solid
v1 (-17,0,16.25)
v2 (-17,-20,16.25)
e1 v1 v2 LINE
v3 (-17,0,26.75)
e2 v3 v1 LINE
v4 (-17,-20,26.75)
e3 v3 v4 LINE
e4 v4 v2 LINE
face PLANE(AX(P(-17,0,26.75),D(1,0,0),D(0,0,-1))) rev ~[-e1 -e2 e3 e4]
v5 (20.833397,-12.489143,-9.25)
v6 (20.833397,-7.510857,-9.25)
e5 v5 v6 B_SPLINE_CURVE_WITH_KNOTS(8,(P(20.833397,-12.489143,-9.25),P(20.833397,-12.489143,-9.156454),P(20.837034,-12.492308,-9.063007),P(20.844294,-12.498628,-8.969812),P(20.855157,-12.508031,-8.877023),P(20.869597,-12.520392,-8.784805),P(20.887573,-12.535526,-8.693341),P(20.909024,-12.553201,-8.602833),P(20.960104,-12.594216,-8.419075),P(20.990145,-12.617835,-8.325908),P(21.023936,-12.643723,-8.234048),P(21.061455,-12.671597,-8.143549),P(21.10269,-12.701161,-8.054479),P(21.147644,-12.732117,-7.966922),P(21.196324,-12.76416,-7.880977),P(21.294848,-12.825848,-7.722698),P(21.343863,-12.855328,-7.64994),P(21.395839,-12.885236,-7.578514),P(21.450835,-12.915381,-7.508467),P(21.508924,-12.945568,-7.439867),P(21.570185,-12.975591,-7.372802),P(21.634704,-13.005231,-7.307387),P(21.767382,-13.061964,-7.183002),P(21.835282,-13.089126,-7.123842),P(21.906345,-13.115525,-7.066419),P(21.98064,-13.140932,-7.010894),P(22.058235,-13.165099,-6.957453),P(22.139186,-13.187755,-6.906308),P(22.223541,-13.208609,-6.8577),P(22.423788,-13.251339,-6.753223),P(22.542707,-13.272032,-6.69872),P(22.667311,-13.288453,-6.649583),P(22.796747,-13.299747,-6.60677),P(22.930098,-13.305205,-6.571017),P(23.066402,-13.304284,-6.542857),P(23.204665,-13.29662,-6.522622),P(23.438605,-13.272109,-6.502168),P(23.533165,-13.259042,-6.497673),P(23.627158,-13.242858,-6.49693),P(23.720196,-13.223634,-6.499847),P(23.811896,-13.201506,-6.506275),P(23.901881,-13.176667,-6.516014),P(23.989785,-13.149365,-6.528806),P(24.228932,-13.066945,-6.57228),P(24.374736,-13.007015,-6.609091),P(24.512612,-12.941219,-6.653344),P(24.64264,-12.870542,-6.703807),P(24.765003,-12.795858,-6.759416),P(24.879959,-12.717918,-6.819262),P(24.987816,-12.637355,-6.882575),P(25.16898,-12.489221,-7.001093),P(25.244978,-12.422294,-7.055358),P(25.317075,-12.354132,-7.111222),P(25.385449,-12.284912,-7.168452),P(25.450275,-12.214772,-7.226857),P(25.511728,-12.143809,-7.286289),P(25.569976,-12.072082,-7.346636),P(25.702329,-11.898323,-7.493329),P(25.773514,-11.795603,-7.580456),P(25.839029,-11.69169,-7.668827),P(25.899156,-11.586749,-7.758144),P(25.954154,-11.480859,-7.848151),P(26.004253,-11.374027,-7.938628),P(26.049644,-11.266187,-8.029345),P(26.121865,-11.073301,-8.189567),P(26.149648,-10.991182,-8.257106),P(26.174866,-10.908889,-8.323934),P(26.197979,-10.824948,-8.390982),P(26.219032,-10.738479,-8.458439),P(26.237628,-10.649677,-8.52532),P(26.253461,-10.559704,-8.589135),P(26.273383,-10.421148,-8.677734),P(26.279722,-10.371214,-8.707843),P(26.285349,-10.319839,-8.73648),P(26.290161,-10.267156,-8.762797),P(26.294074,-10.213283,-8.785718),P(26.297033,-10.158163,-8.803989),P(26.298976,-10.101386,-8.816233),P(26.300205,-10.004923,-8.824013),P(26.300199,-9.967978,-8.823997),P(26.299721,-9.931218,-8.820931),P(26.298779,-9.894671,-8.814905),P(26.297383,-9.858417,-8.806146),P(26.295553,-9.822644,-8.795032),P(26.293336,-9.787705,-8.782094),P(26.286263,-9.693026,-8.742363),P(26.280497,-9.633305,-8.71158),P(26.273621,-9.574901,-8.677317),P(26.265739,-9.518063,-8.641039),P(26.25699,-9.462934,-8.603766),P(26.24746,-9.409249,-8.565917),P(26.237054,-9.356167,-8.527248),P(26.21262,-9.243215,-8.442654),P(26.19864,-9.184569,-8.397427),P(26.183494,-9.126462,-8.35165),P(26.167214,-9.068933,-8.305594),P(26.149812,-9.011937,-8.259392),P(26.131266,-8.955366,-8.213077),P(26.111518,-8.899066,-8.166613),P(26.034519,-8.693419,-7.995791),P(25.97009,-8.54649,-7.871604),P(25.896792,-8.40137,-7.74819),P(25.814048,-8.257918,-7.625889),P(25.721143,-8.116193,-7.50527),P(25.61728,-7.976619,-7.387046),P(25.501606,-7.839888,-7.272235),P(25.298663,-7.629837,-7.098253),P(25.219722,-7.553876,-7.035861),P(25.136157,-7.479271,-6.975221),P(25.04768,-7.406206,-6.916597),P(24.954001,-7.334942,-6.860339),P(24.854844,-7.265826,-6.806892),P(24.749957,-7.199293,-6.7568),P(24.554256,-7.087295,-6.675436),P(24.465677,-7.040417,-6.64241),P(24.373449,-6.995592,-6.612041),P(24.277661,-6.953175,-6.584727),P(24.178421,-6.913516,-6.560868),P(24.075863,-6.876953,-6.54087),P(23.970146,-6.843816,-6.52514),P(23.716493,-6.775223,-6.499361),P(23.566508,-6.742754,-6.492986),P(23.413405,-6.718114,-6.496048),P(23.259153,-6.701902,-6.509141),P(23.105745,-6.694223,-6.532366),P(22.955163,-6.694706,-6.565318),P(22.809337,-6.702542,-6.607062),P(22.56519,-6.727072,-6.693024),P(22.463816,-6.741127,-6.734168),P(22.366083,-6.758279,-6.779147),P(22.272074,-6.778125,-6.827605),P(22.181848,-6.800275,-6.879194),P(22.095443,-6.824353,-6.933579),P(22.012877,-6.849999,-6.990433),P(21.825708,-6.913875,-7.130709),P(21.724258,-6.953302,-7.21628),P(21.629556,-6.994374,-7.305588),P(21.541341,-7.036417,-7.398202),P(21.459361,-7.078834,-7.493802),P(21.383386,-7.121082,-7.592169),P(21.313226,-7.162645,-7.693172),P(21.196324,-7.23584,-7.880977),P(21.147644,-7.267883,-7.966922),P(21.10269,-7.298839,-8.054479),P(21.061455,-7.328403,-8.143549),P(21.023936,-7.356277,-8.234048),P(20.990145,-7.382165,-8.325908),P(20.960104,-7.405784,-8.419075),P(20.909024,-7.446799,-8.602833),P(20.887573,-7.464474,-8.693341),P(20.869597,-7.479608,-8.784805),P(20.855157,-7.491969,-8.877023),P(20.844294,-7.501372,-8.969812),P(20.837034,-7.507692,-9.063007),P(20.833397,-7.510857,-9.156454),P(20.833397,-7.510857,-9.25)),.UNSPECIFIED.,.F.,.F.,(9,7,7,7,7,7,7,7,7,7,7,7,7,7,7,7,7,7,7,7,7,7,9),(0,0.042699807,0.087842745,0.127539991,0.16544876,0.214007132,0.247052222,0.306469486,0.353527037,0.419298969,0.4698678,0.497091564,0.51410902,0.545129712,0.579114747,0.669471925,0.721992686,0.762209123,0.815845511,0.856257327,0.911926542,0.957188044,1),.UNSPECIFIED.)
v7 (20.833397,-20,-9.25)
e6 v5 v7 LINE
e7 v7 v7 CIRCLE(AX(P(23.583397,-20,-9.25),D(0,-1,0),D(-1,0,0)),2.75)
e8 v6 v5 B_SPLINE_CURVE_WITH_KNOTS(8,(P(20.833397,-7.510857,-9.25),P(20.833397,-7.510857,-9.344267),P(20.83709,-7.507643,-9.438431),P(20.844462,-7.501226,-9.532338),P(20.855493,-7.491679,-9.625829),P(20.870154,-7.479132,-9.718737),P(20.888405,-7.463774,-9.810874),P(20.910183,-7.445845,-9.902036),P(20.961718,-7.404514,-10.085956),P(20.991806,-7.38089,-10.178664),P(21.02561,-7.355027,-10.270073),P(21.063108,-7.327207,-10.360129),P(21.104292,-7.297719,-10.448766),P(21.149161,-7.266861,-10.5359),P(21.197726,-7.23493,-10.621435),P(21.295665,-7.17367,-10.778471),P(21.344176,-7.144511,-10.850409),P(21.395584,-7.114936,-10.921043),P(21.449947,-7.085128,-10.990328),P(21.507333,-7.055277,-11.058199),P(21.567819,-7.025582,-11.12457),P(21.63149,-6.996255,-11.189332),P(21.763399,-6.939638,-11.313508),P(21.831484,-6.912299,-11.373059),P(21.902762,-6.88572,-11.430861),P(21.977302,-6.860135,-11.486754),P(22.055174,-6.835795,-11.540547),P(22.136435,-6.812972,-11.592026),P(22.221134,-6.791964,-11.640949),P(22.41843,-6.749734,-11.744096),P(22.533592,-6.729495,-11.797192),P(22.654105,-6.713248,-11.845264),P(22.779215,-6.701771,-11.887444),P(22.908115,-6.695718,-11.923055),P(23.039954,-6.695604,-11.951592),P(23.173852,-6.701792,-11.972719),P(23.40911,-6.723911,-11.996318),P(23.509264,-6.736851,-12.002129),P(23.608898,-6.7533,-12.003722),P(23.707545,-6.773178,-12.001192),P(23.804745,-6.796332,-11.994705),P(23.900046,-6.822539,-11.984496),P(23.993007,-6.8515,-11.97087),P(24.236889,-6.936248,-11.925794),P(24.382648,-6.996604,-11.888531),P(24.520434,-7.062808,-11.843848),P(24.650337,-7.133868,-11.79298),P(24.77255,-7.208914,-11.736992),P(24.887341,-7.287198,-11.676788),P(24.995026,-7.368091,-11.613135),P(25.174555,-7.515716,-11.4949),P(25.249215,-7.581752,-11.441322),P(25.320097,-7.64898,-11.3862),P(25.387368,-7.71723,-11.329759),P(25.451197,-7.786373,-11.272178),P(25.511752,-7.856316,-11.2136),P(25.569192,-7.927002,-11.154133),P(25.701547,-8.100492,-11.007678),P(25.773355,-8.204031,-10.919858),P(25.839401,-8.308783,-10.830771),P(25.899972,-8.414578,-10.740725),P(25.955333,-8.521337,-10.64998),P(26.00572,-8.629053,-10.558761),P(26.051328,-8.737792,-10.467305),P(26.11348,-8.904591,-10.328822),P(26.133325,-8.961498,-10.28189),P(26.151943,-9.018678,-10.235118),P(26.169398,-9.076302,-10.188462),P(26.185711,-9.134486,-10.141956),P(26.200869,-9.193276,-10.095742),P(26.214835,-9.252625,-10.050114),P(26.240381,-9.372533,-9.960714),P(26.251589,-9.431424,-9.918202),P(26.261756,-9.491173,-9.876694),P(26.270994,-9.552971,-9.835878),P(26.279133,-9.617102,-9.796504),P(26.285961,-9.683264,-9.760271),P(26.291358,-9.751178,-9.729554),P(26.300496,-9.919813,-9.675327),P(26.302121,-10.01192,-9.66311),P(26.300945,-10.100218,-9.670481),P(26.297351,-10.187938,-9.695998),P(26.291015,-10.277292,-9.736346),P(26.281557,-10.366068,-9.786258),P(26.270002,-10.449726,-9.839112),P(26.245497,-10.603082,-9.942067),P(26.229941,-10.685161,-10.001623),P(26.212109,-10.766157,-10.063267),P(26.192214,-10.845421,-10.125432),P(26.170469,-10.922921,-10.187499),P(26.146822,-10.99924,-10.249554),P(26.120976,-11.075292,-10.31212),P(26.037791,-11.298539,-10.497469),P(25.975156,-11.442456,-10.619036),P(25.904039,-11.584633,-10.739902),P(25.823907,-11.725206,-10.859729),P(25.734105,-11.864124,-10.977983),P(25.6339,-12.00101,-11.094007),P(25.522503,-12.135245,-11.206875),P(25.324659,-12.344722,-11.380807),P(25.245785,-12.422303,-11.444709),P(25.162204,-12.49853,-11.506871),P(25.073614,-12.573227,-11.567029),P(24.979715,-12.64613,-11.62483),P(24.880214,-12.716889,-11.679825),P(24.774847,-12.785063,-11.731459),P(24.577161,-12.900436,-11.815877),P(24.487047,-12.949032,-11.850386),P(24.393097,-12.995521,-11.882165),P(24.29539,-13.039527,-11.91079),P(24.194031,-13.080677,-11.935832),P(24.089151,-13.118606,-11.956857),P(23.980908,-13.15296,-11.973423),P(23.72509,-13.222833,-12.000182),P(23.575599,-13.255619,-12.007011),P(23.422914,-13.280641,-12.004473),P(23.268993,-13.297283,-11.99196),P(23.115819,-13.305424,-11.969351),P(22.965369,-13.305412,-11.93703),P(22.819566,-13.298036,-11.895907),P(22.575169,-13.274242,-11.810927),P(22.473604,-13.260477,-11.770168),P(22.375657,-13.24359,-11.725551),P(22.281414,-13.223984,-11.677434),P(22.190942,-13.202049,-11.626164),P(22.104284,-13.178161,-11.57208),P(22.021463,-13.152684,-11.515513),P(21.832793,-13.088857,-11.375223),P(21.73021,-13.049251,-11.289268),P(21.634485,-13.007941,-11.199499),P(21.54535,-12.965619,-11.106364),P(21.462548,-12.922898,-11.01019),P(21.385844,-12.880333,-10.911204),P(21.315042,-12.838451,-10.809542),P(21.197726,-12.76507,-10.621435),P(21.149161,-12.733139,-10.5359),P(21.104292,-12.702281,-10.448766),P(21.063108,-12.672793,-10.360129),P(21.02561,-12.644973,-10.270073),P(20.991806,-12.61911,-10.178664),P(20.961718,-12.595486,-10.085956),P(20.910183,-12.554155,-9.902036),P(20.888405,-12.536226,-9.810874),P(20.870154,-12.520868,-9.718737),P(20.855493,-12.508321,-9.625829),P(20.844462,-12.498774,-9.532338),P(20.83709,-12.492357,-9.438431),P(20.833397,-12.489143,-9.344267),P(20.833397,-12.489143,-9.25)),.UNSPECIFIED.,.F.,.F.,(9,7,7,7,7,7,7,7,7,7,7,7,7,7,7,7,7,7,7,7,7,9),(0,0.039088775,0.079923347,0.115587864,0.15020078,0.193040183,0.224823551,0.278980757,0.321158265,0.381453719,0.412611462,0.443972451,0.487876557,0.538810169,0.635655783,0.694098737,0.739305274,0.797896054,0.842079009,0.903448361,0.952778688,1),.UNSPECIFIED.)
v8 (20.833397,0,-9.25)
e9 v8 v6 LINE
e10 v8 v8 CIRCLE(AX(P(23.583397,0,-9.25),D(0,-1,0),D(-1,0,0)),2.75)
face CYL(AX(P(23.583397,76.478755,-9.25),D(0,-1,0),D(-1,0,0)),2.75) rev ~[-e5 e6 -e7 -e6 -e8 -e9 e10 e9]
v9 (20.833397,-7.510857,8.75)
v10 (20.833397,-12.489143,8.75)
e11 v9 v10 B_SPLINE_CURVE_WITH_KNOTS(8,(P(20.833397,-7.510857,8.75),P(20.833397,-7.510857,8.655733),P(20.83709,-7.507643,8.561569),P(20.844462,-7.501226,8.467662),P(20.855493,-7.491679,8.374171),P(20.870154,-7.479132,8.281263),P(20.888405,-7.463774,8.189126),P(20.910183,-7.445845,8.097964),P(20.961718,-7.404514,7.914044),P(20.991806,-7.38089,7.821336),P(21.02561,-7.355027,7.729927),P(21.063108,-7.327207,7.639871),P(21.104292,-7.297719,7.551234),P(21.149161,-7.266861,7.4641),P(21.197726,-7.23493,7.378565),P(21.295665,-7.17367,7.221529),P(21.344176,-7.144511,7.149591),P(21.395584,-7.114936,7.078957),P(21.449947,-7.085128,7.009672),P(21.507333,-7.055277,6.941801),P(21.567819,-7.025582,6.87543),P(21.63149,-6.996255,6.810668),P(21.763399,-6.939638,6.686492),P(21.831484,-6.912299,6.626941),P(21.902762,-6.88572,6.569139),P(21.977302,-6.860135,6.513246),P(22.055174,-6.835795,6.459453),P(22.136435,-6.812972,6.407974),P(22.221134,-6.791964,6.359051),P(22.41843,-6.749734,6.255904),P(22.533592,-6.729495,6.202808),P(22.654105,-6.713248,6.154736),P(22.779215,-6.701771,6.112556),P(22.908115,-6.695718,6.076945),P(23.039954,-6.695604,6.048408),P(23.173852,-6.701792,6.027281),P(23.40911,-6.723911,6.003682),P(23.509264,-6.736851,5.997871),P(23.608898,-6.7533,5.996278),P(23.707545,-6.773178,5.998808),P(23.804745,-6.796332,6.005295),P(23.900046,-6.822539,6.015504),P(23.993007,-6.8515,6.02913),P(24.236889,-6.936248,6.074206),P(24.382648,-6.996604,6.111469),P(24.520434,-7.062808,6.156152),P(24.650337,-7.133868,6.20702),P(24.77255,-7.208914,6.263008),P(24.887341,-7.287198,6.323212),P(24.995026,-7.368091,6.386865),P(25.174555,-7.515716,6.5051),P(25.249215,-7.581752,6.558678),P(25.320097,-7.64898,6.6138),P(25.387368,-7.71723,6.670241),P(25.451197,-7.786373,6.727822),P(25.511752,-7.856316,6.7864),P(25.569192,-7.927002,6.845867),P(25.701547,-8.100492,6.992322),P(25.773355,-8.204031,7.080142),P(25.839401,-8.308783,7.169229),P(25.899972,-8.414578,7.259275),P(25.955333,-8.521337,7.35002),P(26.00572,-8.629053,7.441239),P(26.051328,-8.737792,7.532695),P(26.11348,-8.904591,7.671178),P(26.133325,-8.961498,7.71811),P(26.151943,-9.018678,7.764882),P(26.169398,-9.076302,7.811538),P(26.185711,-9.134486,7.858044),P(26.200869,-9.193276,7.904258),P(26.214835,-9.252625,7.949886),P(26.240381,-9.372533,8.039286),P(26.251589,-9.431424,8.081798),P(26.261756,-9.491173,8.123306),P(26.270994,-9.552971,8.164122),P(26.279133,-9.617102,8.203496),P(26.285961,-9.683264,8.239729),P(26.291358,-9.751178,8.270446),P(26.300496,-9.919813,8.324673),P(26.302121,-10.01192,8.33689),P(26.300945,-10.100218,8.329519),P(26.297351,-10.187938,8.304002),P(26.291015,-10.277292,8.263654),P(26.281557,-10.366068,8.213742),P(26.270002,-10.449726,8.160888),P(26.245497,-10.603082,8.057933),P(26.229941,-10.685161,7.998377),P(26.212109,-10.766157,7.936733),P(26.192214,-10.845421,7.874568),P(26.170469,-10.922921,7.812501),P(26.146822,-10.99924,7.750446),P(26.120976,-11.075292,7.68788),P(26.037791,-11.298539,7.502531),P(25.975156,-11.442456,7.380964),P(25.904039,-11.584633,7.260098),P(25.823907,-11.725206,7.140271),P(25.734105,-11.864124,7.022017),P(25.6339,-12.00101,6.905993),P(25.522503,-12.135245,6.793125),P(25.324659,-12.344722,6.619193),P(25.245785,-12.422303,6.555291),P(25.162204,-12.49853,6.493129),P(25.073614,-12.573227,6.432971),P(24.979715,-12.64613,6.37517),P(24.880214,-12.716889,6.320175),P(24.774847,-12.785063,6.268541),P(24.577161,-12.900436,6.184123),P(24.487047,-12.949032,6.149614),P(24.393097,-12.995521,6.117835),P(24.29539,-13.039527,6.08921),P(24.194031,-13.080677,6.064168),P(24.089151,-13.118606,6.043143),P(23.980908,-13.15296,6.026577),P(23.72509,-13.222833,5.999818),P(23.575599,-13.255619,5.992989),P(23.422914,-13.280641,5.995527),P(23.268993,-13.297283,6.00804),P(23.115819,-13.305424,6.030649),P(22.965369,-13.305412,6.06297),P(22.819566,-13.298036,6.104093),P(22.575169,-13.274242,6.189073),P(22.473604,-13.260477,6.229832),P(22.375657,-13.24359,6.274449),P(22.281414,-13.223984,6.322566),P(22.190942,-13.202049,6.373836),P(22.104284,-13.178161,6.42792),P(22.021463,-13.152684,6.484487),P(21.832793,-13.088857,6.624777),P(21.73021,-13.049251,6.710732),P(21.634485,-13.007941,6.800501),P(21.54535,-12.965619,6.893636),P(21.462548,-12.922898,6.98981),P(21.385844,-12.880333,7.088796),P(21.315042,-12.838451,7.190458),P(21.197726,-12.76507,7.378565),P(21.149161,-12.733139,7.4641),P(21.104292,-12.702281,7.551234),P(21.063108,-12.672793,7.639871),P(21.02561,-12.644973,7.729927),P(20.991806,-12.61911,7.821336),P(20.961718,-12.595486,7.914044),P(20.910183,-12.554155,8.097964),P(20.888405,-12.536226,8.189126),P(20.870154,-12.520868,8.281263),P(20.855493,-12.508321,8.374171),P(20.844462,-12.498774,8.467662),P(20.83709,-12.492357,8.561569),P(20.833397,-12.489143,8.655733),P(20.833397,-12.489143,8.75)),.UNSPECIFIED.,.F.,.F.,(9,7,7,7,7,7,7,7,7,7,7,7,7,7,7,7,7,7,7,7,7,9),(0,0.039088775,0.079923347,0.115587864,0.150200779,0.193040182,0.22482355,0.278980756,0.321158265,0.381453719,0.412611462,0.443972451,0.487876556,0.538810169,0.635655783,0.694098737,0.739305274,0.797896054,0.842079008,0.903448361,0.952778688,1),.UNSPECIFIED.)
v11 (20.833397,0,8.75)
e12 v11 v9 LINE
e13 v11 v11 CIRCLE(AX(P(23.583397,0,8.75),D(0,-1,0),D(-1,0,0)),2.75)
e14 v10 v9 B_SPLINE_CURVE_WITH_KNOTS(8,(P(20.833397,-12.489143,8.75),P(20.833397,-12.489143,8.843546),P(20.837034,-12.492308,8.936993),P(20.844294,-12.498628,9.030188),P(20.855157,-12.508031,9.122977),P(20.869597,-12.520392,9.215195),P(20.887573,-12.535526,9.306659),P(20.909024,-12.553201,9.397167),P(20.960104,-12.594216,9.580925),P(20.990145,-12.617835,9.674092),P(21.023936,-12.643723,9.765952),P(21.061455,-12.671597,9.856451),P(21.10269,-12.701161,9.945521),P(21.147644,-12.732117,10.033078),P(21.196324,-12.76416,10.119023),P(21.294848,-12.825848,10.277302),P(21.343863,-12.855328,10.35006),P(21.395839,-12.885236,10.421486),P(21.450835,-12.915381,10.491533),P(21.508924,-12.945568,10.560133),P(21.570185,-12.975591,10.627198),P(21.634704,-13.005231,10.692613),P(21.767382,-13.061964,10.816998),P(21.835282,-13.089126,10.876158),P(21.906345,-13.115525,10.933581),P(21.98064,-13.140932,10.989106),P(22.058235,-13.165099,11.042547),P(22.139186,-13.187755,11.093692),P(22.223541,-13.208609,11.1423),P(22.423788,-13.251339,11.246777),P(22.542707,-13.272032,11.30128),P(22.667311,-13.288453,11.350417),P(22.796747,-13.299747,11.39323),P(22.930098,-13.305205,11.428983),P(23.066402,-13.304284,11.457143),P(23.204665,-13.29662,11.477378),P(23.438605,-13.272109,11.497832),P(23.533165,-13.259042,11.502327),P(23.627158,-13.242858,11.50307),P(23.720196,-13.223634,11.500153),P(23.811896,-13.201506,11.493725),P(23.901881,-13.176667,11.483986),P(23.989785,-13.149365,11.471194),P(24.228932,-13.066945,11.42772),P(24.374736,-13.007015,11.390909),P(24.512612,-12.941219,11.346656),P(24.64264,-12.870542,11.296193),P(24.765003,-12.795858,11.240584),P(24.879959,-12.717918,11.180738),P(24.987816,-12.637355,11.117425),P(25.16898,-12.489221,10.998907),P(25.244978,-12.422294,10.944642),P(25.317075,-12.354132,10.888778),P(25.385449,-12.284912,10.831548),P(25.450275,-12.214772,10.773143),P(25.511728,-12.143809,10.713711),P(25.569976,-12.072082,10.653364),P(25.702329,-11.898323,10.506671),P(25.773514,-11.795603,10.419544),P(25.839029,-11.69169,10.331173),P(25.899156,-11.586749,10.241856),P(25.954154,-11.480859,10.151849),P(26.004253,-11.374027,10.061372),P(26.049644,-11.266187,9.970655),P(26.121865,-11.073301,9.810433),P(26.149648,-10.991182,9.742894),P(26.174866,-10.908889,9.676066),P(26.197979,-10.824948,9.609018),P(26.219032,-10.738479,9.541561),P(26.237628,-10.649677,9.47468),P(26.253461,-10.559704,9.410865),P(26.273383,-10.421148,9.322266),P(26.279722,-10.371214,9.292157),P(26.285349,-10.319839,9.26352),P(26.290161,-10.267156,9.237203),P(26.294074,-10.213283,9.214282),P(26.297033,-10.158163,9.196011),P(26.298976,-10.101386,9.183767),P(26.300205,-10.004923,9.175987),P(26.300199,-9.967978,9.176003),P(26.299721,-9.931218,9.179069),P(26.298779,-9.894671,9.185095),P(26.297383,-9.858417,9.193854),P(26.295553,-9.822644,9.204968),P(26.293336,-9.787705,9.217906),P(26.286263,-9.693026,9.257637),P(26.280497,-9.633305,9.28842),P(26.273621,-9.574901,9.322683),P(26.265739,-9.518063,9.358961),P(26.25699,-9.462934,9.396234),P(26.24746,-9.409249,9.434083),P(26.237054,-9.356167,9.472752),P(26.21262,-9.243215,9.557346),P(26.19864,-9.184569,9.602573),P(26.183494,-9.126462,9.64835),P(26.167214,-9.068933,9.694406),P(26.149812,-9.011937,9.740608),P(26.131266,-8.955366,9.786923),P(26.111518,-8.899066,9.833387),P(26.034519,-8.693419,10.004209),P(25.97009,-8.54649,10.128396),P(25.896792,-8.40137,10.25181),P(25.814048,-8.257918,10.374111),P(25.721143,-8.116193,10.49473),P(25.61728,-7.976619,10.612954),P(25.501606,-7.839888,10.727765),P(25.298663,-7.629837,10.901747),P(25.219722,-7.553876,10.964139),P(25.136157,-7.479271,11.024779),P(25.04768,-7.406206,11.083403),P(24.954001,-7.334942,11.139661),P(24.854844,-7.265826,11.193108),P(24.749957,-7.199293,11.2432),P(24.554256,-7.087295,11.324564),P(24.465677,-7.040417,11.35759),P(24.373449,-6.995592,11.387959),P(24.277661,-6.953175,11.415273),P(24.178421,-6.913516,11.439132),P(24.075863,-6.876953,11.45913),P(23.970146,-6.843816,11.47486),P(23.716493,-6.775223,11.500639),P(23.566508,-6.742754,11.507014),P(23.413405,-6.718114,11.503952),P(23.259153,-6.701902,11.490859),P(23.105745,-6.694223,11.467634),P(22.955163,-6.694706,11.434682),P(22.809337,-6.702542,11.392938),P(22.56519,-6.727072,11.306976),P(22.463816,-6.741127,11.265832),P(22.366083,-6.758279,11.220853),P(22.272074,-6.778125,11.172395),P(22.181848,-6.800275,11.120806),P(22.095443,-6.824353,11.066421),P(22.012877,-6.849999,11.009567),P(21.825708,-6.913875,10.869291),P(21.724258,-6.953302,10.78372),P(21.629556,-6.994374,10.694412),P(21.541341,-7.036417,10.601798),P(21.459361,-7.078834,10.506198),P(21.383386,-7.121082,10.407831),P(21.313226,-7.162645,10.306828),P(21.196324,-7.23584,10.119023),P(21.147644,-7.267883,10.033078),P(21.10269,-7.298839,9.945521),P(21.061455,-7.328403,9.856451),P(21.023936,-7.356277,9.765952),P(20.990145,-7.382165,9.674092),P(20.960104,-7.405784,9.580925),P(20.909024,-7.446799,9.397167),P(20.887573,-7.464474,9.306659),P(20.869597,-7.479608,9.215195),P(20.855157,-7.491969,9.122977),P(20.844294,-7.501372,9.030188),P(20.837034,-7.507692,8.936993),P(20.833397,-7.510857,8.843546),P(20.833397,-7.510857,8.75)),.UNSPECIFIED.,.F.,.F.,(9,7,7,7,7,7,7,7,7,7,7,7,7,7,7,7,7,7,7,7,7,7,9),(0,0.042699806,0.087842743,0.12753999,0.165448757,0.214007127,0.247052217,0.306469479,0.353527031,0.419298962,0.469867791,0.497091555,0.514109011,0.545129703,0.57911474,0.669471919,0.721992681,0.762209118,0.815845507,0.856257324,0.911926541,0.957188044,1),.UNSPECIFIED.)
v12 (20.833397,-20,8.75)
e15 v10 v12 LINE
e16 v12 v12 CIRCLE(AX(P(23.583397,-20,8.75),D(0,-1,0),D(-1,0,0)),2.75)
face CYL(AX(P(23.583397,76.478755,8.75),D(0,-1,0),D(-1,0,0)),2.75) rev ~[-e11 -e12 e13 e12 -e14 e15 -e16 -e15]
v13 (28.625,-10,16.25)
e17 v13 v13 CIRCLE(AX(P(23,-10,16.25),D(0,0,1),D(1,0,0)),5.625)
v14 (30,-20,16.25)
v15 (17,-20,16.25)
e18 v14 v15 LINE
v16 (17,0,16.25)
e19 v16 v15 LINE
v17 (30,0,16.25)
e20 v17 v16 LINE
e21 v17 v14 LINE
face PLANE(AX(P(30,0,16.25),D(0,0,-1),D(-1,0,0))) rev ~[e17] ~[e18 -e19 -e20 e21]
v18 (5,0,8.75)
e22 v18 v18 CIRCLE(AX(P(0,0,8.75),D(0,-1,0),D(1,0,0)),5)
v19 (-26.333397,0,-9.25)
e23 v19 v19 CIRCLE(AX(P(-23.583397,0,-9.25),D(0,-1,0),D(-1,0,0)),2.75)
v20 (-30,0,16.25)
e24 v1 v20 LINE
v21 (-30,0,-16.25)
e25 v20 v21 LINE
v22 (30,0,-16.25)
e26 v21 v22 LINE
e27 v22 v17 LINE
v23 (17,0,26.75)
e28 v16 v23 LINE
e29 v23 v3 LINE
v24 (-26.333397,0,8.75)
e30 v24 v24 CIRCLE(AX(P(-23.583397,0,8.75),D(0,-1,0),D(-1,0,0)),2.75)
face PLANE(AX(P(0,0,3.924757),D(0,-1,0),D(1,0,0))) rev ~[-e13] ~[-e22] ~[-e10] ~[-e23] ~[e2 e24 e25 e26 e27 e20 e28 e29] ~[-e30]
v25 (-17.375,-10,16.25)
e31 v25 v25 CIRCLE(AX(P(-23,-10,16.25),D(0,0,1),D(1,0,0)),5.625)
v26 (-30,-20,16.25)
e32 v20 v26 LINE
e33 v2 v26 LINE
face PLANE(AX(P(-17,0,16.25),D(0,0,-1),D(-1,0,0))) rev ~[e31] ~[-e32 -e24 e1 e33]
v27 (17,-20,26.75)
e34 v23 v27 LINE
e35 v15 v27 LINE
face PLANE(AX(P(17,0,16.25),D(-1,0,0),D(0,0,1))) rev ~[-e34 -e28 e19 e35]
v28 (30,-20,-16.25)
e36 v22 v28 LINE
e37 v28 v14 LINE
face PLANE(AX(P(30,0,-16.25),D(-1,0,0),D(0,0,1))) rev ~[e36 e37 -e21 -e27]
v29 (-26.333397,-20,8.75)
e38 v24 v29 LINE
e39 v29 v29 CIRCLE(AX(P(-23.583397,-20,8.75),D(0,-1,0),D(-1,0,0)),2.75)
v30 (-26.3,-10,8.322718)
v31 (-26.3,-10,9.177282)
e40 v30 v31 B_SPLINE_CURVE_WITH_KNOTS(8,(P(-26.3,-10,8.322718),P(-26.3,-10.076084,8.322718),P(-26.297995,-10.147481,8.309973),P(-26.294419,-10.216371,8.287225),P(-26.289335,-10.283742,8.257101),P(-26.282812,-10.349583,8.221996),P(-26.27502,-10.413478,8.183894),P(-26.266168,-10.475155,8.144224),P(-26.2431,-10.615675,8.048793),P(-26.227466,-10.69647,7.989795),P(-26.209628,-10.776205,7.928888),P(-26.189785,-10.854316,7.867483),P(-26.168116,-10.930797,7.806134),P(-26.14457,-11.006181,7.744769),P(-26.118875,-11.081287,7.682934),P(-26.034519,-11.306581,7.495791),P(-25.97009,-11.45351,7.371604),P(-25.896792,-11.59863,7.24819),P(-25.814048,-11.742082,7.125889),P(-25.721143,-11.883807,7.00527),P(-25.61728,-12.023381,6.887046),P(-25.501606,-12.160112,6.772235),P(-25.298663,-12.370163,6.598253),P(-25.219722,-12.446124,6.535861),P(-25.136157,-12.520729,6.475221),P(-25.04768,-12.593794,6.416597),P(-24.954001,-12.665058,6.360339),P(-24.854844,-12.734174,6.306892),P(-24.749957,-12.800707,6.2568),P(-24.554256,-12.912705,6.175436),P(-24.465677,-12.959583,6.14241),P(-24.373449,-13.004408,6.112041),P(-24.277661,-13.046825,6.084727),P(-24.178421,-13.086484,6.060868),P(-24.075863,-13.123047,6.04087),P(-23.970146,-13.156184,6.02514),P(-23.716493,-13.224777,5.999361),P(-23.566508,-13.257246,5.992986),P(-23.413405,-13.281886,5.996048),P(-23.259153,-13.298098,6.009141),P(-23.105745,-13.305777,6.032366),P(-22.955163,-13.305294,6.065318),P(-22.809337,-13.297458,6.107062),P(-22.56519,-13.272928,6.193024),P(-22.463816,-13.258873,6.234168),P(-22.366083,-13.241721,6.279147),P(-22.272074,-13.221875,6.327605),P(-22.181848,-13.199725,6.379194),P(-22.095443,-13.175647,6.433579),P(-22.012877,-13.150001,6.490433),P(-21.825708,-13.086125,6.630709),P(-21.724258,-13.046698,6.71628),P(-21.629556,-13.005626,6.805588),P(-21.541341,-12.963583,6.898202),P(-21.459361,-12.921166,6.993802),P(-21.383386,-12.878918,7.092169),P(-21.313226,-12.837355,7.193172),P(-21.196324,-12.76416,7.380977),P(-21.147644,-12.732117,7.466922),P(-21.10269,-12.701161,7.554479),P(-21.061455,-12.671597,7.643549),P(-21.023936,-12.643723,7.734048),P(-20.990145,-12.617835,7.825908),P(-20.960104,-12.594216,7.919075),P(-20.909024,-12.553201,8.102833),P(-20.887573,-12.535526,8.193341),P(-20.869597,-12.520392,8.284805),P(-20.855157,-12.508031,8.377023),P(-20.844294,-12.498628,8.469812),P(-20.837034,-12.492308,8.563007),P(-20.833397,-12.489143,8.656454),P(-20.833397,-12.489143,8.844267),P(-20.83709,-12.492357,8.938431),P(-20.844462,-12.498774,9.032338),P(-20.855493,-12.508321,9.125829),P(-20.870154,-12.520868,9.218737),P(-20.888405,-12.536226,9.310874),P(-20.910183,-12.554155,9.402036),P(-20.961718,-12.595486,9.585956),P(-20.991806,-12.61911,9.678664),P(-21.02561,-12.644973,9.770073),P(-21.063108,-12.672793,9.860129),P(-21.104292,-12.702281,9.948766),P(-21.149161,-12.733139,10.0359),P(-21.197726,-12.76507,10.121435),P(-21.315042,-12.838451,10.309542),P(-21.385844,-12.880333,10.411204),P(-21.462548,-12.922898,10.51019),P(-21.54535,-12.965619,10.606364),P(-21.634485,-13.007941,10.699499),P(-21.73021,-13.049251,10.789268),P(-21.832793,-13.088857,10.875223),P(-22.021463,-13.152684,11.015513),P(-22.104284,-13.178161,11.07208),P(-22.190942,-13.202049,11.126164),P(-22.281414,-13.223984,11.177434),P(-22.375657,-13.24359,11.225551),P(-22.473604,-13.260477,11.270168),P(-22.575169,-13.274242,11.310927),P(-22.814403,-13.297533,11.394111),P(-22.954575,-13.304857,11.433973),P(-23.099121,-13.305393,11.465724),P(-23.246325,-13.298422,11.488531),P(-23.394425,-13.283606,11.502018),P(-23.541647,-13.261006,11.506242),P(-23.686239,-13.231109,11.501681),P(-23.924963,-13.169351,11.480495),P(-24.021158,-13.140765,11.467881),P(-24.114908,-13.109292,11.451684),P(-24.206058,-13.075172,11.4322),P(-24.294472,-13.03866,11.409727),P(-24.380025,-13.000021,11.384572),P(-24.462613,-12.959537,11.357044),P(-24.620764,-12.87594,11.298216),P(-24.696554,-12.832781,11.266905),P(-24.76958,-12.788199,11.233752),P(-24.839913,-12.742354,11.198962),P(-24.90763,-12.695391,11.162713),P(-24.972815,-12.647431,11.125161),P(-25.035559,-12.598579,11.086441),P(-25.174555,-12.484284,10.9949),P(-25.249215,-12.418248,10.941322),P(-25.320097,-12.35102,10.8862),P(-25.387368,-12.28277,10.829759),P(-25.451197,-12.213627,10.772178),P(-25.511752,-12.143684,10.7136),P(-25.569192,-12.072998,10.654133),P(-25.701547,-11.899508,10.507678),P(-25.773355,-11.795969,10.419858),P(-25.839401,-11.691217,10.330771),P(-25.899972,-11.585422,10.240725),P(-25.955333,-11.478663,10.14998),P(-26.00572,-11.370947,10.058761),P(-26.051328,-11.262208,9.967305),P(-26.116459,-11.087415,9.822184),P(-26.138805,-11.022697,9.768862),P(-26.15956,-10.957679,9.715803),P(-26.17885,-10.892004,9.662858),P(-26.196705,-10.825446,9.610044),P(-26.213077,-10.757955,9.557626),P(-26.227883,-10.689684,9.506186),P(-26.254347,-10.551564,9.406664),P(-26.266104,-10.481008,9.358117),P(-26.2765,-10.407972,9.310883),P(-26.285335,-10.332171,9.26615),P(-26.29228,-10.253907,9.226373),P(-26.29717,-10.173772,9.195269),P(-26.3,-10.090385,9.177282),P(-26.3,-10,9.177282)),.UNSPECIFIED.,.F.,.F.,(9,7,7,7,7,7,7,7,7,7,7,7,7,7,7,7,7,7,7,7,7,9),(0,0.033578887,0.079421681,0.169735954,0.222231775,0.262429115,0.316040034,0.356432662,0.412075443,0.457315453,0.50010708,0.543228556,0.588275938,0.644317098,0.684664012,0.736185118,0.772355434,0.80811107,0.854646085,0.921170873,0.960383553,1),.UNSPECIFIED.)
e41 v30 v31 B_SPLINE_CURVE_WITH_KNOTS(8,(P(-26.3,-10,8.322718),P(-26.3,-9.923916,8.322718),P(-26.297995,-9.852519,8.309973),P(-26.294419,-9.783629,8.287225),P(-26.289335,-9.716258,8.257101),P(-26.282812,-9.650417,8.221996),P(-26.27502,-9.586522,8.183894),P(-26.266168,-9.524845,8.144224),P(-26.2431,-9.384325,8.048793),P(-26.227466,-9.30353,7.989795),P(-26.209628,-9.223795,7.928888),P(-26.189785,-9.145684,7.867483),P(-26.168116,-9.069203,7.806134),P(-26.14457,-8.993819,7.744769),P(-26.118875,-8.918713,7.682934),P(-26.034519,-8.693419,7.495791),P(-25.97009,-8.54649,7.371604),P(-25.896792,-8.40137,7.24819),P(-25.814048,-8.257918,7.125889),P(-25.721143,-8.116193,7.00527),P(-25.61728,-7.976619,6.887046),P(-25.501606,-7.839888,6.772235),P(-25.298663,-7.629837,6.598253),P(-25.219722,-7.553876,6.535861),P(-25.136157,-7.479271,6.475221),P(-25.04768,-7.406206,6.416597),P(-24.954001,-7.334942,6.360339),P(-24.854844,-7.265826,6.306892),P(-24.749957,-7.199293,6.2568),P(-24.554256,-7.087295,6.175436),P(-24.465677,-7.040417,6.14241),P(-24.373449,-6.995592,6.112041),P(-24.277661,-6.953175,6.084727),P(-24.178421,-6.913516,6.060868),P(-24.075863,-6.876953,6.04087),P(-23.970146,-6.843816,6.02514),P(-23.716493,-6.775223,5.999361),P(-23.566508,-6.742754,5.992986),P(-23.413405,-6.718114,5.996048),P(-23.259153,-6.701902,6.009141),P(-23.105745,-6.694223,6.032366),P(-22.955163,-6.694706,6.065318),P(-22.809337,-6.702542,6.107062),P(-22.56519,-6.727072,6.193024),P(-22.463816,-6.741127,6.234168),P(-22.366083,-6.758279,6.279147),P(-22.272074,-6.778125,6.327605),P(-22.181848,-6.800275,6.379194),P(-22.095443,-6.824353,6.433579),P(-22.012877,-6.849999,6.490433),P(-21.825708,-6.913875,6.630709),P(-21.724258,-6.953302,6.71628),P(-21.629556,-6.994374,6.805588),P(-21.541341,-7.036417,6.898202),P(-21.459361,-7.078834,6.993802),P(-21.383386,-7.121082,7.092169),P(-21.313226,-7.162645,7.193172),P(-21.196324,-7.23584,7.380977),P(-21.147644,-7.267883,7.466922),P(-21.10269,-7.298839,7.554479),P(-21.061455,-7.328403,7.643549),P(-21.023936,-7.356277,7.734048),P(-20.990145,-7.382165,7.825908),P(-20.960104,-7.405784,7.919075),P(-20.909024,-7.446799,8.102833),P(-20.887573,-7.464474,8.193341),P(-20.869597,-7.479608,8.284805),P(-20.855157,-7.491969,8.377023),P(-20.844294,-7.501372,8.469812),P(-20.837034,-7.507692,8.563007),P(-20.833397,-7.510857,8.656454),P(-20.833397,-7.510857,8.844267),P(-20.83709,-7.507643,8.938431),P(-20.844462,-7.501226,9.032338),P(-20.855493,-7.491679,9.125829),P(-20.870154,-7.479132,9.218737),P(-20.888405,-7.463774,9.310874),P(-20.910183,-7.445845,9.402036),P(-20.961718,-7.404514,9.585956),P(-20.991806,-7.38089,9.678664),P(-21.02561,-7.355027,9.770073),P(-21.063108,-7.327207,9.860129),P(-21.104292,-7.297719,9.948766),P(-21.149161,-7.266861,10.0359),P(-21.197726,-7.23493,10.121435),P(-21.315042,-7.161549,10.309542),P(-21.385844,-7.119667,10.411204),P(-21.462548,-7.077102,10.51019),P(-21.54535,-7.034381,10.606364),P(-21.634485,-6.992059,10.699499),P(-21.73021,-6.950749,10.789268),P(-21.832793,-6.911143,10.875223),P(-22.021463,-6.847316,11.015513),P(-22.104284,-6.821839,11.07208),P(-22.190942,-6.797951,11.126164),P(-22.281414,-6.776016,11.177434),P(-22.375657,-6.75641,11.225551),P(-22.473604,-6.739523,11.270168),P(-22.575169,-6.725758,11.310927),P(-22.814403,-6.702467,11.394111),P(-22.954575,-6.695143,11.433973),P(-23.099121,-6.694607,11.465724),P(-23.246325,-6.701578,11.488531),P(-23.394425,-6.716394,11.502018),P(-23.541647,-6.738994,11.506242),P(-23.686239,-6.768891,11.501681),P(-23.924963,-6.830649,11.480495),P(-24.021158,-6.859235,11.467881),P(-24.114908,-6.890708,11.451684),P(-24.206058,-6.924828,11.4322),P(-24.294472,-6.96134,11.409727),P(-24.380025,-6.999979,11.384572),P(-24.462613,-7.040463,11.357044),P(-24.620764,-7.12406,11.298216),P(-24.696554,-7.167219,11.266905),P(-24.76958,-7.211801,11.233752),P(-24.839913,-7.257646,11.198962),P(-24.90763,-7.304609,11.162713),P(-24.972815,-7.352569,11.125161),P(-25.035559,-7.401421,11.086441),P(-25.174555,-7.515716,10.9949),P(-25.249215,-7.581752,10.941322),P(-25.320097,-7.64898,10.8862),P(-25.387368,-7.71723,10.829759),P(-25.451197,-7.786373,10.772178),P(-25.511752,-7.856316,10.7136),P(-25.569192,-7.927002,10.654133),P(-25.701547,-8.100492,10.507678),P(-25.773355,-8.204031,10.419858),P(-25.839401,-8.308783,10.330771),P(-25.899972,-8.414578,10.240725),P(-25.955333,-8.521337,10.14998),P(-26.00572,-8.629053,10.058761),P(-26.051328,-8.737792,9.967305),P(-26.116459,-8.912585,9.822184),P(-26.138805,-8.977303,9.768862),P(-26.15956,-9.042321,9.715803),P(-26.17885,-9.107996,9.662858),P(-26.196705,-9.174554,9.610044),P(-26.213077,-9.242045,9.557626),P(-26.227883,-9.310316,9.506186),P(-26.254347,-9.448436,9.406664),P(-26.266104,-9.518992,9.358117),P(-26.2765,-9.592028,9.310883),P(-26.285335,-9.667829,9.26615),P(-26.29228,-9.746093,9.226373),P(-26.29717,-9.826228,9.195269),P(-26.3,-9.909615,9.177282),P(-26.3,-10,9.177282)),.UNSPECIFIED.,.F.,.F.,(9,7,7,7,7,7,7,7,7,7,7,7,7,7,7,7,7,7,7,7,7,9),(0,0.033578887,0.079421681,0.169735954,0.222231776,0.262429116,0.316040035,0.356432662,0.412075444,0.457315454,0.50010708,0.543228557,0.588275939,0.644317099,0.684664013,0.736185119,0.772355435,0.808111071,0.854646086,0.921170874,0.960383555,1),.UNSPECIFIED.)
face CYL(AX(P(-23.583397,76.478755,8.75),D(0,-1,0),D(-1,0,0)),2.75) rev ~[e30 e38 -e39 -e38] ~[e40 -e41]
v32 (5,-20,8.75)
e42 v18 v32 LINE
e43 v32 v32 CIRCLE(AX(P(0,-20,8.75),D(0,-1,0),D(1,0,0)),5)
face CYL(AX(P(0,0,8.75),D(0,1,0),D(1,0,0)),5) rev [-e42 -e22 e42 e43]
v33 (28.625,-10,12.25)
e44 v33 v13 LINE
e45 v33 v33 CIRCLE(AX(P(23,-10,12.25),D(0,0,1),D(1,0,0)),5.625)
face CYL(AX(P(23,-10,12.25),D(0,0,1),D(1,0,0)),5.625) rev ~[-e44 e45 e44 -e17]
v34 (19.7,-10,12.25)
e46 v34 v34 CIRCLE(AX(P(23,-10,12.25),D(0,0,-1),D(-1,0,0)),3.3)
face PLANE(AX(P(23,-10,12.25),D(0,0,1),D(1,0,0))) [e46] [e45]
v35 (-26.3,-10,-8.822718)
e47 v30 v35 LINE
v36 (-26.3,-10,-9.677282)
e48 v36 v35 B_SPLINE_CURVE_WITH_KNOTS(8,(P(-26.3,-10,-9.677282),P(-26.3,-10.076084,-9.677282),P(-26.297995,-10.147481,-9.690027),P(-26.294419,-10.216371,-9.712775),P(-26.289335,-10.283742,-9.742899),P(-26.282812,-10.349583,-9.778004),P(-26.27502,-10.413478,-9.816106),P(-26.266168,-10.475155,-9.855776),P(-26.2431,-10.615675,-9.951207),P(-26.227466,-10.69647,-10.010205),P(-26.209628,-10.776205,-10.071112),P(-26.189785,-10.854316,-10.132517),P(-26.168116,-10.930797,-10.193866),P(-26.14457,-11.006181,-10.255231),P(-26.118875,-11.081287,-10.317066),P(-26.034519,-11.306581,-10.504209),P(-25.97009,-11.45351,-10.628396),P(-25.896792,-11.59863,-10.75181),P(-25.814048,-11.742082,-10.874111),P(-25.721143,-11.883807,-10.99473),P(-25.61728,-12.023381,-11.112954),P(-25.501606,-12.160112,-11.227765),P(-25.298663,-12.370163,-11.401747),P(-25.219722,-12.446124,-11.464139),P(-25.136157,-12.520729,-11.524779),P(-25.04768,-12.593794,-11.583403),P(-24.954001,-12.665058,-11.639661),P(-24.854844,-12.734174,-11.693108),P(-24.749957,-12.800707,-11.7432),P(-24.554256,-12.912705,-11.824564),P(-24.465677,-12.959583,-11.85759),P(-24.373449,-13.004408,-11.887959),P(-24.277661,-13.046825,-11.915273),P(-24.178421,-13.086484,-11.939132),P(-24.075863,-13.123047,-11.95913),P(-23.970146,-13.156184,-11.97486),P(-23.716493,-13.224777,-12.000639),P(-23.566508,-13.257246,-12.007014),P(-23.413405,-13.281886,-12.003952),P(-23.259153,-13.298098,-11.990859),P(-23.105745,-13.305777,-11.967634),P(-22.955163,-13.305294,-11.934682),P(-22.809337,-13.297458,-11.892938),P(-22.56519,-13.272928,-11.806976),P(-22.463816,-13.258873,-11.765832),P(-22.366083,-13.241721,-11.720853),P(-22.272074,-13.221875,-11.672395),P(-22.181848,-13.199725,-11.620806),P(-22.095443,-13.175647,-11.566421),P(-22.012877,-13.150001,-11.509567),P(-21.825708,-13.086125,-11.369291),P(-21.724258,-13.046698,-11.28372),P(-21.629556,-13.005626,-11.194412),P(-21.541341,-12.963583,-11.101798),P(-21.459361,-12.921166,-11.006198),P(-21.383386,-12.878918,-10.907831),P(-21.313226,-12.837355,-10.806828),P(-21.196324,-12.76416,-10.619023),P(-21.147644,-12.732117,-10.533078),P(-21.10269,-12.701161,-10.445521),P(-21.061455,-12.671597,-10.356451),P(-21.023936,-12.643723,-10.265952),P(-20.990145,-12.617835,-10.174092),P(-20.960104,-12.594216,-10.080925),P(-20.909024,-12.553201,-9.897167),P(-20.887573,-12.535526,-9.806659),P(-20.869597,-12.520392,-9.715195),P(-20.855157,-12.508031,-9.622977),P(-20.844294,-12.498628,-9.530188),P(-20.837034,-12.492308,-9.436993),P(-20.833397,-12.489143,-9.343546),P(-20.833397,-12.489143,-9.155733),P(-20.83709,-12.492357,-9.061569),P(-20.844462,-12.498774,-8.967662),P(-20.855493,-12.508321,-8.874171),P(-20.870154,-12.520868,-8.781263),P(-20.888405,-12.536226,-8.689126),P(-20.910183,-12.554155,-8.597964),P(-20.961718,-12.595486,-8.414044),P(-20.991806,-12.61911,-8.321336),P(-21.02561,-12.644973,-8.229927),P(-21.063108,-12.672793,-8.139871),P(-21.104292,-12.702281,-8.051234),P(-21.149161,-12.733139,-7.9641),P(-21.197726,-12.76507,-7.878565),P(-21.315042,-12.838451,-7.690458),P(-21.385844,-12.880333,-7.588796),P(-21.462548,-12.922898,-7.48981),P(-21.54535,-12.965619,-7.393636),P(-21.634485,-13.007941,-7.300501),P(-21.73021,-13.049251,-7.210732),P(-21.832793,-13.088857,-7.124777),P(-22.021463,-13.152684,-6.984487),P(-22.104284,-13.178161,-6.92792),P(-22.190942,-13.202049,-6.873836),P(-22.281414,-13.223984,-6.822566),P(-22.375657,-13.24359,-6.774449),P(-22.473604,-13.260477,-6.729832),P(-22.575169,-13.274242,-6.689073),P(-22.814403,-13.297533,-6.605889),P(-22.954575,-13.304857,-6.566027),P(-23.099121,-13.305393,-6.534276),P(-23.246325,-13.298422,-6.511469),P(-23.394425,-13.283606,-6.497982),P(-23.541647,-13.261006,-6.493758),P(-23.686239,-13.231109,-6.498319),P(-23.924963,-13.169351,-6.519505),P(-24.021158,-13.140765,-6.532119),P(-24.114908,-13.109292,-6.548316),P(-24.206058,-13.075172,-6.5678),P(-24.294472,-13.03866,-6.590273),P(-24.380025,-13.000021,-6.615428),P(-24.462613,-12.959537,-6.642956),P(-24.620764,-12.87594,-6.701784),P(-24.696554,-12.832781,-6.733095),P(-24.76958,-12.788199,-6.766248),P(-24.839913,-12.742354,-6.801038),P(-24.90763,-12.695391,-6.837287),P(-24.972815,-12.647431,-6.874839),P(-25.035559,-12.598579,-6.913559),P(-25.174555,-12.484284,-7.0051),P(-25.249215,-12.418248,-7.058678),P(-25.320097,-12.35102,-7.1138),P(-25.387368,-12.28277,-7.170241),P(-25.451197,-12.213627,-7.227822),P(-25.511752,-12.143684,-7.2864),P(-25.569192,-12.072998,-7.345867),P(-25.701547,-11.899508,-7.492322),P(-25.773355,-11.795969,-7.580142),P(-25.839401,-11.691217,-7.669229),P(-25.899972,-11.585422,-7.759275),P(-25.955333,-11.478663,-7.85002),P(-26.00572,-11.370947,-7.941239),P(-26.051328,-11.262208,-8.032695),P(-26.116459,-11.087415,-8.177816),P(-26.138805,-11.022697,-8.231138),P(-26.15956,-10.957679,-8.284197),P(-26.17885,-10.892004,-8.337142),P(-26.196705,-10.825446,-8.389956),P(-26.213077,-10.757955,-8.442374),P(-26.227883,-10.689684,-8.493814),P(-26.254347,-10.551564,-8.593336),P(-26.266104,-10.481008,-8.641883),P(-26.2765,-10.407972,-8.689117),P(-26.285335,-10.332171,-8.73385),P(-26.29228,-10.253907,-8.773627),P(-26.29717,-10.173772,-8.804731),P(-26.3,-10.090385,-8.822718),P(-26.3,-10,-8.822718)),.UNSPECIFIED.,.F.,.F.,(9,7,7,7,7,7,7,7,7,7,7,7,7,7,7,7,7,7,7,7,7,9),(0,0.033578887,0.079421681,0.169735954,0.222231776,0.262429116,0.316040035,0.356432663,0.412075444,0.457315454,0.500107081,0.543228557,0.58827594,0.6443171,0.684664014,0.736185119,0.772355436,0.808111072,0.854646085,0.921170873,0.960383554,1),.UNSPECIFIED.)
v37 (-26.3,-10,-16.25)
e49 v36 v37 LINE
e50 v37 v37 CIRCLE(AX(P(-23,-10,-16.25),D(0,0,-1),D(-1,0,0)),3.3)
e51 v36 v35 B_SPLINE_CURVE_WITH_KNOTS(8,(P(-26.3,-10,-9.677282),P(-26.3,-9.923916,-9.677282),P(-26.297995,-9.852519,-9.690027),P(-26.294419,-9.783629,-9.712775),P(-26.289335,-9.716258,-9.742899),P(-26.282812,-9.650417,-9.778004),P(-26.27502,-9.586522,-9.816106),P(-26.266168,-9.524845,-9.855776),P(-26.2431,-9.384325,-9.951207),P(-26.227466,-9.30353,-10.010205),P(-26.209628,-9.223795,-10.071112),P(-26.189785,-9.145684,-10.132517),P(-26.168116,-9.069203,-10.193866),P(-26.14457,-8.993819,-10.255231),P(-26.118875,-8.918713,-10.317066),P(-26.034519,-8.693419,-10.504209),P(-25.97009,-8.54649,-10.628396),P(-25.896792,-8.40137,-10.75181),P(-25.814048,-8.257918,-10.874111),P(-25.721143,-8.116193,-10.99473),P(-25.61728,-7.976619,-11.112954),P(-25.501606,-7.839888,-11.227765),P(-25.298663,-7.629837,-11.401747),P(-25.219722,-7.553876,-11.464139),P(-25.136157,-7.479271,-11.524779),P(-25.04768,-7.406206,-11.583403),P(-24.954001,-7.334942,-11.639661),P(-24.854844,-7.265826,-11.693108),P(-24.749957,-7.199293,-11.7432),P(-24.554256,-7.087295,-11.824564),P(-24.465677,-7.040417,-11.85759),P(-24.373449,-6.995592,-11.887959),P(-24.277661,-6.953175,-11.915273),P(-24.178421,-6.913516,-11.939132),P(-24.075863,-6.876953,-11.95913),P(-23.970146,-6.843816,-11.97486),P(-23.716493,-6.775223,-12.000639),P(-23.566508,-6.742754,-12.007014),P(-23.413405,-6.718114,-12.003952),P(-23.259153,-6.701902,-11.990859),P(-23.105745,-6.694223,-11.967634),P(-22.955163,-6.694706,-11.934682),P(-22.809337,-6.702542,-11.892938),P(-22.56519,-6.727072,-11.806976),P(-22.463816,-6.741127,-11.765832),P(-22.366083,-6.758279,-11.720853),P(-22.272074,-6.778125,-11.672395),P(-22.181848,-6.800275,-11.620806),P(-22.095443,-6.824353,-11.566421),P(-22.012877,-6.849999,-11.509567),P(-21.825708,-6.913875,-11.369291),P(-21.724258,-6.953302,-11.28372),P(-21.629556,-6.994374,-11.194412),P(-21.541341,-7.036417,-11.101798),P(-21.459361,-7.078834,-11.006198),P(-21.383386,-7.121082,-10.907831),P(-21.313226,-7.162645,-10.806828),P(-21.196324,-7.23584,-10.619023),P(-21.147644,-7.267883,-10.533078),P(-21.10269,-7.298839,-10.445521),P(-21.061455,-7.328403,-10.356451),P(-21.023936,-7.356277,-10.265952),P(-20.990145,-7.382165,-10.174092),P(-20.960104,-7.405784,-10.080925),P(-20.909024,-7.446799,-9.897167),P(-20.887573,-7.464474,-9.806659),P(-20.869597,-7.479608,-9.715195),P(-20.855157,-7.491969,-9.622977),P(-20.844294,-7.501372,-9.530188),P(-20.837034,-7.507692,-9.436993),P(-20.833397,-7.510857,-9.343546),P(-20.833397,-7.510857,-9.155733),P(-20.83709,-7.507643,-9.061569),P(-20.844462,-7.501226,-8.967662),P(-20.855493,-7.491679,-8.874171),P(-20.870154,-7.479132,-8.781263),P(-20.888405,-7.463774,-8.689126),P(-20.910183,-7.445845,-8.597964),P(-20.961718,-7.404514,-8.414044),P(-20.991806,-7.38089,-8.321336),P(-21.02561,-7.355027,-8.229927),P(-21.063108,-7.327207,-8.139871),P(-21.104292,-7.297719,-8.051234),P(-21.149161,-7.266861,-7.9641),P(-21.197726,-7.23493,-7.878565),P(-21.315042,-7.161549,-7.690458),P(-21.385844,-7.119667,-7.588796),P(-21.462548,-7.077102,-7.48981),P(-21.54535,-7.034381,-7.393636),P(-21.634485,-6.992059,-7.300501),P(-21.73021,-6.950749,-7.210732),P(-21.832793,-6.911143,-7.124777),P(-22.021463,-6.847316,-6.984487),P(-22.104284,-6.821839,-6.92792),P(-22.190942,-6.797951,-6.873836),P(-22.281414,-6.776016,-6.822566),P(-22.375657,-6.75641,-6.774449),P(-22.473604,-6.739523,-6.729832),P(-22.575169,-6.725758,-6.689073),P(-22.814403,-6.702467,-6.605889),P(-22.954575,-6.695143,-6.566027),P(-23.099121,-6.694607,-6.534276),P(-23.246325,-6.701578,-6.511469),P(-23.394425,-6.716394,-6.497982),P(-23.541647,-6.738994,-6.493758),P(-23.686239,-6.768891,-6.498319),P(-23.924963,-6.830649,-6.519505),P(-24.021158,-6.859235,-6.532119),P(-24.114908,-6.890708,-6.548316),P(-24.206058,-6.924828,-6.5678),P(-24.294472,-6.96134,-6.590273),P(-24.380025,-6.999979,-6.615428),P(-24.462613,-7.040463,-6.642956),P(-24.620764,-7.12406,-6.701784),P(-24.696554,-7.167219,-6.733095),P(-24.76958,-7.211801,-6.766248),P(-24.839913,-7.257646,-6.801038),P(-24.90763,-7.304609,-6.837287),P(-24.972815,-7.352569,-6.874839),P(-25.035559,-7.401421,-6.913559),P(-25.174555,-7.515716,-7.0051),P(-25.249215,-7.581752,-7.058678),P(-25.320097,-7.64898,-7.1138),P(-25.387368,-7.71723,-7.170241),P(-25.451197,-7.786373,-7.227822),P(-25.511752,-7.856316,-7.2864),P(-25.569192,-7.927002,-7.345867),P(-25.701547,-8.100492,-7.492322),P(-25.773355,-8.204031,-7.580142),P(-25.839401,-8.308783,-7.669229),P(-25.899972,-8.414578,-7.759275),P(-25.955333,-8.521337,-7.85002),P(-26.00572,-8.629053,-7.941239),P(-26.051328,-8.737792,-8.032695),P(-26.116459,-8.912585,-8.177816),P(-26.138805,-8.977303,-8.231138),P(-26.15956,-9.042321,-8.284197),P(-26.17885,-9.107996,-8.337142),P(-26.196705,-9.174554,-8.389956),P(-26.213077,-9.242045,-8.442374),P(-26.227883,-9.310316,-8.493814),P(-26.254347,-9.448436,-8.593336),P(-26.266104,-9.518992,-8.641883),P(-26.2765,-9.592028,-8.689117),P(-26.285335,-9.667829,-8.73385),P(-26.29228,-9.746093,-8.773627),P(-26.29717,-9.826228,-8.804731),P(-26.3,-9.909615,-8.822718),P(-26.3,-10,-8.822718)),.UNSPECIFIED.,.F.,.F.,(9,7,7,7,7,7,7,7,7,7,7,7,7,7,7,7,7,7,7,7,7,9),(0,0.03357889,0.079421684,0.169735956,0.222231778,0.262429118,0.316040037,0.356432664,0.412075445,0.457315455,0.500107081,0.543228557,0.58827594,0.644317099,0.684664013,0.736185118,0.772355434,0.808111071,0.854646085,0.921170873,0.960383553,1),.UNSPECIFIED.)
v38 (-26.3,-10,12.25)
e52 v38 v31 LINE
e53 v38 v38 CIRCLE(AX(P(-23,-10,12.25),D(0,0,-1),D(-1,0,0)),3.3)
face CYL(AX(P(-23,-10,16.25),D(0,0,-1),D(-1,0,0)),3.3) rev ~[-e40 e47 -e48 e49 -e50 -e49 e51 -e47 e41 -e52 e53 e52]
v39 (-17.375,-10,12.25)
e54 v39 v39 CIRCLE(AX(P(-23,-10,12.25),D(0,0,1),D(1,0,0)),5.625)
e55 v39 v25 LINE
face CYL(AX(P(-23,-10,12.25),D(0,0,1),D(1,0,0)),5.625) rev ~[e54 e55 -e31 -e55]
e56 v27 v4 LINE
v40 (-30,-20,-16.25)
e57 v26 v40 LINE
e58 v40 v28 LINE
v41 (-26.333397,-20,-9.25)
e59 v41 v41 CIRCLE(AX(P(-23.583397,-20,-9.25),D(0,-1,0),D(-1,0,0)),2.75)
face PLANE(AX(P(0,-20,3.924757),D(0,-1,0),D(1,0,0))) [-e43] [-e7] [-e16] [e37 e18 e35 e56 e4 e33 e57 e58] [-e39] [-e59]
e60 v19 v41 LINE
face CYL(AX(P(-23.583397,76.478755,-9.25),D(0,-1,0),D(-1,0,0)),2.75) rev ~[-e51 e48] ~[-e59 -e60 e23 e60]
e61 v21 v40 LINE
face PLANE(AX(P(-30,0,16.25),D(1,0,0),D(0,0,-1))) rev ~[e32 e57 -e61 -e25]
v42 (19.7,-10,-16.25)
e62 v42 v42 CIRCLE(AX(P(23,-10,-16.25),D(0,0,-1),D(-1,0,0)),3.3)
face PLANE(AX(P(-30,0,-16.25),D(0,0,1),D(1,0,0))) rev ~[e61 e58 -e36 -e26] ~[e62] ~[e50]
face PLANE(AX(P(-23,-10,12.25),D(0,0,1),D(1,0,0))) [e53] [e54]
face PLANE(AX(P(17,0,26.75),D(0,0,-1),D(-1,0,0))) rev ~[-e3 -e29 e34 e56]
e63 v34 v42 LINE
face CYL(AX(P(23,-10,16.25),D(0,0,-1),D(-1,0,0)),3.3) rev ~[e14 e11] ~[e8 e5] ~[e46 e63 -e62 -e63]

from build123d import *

# Parameters (mm, degrees)
F0_R           = 5
F1_DEPTH       = 20
F3_D           = 6.6
F3_CBORE_D     = 11.25
F3_CBORE_DEPTH = 4
F4_D           = 5.5


with BuildPart() as f1:
    # F0 (on Front) → F1 (new body)
    with BuildSketch(Plane.XZ):
        Polygon((30, -16.25), (30, 16.25), (17, 16.25), (17, 26.75), (-17, 26.75), (-17, 16.25), (-30, 16.25), (-30, -16.25), align=None)
        with Locations((0, 8.75)):
            Circle(F0_R, mode=Mode.SUBTRACT)
    extrude(amount=F1_DEPTH)

    # F3 (through all)
    with Locations(Plane.XY.offset(16.25)):
        with Locations((-23, -10), (23, -10)):
            CounterBoreHole(F3_D / 2, F3_CBORE_D / 2, F3_CBORE_DEPTH)

    # F4 (through all)
    with Locations(Plane(origin=(0, 0, 0), x_dir=(1, 0, 0), z_dir=(0, 1, 0))):
        with Locations((23.5833972692, -8.75), (23.5833972692, 9.25), (-23.5833972692, 9.25), (-23.5833972692, -8.75)):
            Hole(F4_D / 2)


solid = f1.part
